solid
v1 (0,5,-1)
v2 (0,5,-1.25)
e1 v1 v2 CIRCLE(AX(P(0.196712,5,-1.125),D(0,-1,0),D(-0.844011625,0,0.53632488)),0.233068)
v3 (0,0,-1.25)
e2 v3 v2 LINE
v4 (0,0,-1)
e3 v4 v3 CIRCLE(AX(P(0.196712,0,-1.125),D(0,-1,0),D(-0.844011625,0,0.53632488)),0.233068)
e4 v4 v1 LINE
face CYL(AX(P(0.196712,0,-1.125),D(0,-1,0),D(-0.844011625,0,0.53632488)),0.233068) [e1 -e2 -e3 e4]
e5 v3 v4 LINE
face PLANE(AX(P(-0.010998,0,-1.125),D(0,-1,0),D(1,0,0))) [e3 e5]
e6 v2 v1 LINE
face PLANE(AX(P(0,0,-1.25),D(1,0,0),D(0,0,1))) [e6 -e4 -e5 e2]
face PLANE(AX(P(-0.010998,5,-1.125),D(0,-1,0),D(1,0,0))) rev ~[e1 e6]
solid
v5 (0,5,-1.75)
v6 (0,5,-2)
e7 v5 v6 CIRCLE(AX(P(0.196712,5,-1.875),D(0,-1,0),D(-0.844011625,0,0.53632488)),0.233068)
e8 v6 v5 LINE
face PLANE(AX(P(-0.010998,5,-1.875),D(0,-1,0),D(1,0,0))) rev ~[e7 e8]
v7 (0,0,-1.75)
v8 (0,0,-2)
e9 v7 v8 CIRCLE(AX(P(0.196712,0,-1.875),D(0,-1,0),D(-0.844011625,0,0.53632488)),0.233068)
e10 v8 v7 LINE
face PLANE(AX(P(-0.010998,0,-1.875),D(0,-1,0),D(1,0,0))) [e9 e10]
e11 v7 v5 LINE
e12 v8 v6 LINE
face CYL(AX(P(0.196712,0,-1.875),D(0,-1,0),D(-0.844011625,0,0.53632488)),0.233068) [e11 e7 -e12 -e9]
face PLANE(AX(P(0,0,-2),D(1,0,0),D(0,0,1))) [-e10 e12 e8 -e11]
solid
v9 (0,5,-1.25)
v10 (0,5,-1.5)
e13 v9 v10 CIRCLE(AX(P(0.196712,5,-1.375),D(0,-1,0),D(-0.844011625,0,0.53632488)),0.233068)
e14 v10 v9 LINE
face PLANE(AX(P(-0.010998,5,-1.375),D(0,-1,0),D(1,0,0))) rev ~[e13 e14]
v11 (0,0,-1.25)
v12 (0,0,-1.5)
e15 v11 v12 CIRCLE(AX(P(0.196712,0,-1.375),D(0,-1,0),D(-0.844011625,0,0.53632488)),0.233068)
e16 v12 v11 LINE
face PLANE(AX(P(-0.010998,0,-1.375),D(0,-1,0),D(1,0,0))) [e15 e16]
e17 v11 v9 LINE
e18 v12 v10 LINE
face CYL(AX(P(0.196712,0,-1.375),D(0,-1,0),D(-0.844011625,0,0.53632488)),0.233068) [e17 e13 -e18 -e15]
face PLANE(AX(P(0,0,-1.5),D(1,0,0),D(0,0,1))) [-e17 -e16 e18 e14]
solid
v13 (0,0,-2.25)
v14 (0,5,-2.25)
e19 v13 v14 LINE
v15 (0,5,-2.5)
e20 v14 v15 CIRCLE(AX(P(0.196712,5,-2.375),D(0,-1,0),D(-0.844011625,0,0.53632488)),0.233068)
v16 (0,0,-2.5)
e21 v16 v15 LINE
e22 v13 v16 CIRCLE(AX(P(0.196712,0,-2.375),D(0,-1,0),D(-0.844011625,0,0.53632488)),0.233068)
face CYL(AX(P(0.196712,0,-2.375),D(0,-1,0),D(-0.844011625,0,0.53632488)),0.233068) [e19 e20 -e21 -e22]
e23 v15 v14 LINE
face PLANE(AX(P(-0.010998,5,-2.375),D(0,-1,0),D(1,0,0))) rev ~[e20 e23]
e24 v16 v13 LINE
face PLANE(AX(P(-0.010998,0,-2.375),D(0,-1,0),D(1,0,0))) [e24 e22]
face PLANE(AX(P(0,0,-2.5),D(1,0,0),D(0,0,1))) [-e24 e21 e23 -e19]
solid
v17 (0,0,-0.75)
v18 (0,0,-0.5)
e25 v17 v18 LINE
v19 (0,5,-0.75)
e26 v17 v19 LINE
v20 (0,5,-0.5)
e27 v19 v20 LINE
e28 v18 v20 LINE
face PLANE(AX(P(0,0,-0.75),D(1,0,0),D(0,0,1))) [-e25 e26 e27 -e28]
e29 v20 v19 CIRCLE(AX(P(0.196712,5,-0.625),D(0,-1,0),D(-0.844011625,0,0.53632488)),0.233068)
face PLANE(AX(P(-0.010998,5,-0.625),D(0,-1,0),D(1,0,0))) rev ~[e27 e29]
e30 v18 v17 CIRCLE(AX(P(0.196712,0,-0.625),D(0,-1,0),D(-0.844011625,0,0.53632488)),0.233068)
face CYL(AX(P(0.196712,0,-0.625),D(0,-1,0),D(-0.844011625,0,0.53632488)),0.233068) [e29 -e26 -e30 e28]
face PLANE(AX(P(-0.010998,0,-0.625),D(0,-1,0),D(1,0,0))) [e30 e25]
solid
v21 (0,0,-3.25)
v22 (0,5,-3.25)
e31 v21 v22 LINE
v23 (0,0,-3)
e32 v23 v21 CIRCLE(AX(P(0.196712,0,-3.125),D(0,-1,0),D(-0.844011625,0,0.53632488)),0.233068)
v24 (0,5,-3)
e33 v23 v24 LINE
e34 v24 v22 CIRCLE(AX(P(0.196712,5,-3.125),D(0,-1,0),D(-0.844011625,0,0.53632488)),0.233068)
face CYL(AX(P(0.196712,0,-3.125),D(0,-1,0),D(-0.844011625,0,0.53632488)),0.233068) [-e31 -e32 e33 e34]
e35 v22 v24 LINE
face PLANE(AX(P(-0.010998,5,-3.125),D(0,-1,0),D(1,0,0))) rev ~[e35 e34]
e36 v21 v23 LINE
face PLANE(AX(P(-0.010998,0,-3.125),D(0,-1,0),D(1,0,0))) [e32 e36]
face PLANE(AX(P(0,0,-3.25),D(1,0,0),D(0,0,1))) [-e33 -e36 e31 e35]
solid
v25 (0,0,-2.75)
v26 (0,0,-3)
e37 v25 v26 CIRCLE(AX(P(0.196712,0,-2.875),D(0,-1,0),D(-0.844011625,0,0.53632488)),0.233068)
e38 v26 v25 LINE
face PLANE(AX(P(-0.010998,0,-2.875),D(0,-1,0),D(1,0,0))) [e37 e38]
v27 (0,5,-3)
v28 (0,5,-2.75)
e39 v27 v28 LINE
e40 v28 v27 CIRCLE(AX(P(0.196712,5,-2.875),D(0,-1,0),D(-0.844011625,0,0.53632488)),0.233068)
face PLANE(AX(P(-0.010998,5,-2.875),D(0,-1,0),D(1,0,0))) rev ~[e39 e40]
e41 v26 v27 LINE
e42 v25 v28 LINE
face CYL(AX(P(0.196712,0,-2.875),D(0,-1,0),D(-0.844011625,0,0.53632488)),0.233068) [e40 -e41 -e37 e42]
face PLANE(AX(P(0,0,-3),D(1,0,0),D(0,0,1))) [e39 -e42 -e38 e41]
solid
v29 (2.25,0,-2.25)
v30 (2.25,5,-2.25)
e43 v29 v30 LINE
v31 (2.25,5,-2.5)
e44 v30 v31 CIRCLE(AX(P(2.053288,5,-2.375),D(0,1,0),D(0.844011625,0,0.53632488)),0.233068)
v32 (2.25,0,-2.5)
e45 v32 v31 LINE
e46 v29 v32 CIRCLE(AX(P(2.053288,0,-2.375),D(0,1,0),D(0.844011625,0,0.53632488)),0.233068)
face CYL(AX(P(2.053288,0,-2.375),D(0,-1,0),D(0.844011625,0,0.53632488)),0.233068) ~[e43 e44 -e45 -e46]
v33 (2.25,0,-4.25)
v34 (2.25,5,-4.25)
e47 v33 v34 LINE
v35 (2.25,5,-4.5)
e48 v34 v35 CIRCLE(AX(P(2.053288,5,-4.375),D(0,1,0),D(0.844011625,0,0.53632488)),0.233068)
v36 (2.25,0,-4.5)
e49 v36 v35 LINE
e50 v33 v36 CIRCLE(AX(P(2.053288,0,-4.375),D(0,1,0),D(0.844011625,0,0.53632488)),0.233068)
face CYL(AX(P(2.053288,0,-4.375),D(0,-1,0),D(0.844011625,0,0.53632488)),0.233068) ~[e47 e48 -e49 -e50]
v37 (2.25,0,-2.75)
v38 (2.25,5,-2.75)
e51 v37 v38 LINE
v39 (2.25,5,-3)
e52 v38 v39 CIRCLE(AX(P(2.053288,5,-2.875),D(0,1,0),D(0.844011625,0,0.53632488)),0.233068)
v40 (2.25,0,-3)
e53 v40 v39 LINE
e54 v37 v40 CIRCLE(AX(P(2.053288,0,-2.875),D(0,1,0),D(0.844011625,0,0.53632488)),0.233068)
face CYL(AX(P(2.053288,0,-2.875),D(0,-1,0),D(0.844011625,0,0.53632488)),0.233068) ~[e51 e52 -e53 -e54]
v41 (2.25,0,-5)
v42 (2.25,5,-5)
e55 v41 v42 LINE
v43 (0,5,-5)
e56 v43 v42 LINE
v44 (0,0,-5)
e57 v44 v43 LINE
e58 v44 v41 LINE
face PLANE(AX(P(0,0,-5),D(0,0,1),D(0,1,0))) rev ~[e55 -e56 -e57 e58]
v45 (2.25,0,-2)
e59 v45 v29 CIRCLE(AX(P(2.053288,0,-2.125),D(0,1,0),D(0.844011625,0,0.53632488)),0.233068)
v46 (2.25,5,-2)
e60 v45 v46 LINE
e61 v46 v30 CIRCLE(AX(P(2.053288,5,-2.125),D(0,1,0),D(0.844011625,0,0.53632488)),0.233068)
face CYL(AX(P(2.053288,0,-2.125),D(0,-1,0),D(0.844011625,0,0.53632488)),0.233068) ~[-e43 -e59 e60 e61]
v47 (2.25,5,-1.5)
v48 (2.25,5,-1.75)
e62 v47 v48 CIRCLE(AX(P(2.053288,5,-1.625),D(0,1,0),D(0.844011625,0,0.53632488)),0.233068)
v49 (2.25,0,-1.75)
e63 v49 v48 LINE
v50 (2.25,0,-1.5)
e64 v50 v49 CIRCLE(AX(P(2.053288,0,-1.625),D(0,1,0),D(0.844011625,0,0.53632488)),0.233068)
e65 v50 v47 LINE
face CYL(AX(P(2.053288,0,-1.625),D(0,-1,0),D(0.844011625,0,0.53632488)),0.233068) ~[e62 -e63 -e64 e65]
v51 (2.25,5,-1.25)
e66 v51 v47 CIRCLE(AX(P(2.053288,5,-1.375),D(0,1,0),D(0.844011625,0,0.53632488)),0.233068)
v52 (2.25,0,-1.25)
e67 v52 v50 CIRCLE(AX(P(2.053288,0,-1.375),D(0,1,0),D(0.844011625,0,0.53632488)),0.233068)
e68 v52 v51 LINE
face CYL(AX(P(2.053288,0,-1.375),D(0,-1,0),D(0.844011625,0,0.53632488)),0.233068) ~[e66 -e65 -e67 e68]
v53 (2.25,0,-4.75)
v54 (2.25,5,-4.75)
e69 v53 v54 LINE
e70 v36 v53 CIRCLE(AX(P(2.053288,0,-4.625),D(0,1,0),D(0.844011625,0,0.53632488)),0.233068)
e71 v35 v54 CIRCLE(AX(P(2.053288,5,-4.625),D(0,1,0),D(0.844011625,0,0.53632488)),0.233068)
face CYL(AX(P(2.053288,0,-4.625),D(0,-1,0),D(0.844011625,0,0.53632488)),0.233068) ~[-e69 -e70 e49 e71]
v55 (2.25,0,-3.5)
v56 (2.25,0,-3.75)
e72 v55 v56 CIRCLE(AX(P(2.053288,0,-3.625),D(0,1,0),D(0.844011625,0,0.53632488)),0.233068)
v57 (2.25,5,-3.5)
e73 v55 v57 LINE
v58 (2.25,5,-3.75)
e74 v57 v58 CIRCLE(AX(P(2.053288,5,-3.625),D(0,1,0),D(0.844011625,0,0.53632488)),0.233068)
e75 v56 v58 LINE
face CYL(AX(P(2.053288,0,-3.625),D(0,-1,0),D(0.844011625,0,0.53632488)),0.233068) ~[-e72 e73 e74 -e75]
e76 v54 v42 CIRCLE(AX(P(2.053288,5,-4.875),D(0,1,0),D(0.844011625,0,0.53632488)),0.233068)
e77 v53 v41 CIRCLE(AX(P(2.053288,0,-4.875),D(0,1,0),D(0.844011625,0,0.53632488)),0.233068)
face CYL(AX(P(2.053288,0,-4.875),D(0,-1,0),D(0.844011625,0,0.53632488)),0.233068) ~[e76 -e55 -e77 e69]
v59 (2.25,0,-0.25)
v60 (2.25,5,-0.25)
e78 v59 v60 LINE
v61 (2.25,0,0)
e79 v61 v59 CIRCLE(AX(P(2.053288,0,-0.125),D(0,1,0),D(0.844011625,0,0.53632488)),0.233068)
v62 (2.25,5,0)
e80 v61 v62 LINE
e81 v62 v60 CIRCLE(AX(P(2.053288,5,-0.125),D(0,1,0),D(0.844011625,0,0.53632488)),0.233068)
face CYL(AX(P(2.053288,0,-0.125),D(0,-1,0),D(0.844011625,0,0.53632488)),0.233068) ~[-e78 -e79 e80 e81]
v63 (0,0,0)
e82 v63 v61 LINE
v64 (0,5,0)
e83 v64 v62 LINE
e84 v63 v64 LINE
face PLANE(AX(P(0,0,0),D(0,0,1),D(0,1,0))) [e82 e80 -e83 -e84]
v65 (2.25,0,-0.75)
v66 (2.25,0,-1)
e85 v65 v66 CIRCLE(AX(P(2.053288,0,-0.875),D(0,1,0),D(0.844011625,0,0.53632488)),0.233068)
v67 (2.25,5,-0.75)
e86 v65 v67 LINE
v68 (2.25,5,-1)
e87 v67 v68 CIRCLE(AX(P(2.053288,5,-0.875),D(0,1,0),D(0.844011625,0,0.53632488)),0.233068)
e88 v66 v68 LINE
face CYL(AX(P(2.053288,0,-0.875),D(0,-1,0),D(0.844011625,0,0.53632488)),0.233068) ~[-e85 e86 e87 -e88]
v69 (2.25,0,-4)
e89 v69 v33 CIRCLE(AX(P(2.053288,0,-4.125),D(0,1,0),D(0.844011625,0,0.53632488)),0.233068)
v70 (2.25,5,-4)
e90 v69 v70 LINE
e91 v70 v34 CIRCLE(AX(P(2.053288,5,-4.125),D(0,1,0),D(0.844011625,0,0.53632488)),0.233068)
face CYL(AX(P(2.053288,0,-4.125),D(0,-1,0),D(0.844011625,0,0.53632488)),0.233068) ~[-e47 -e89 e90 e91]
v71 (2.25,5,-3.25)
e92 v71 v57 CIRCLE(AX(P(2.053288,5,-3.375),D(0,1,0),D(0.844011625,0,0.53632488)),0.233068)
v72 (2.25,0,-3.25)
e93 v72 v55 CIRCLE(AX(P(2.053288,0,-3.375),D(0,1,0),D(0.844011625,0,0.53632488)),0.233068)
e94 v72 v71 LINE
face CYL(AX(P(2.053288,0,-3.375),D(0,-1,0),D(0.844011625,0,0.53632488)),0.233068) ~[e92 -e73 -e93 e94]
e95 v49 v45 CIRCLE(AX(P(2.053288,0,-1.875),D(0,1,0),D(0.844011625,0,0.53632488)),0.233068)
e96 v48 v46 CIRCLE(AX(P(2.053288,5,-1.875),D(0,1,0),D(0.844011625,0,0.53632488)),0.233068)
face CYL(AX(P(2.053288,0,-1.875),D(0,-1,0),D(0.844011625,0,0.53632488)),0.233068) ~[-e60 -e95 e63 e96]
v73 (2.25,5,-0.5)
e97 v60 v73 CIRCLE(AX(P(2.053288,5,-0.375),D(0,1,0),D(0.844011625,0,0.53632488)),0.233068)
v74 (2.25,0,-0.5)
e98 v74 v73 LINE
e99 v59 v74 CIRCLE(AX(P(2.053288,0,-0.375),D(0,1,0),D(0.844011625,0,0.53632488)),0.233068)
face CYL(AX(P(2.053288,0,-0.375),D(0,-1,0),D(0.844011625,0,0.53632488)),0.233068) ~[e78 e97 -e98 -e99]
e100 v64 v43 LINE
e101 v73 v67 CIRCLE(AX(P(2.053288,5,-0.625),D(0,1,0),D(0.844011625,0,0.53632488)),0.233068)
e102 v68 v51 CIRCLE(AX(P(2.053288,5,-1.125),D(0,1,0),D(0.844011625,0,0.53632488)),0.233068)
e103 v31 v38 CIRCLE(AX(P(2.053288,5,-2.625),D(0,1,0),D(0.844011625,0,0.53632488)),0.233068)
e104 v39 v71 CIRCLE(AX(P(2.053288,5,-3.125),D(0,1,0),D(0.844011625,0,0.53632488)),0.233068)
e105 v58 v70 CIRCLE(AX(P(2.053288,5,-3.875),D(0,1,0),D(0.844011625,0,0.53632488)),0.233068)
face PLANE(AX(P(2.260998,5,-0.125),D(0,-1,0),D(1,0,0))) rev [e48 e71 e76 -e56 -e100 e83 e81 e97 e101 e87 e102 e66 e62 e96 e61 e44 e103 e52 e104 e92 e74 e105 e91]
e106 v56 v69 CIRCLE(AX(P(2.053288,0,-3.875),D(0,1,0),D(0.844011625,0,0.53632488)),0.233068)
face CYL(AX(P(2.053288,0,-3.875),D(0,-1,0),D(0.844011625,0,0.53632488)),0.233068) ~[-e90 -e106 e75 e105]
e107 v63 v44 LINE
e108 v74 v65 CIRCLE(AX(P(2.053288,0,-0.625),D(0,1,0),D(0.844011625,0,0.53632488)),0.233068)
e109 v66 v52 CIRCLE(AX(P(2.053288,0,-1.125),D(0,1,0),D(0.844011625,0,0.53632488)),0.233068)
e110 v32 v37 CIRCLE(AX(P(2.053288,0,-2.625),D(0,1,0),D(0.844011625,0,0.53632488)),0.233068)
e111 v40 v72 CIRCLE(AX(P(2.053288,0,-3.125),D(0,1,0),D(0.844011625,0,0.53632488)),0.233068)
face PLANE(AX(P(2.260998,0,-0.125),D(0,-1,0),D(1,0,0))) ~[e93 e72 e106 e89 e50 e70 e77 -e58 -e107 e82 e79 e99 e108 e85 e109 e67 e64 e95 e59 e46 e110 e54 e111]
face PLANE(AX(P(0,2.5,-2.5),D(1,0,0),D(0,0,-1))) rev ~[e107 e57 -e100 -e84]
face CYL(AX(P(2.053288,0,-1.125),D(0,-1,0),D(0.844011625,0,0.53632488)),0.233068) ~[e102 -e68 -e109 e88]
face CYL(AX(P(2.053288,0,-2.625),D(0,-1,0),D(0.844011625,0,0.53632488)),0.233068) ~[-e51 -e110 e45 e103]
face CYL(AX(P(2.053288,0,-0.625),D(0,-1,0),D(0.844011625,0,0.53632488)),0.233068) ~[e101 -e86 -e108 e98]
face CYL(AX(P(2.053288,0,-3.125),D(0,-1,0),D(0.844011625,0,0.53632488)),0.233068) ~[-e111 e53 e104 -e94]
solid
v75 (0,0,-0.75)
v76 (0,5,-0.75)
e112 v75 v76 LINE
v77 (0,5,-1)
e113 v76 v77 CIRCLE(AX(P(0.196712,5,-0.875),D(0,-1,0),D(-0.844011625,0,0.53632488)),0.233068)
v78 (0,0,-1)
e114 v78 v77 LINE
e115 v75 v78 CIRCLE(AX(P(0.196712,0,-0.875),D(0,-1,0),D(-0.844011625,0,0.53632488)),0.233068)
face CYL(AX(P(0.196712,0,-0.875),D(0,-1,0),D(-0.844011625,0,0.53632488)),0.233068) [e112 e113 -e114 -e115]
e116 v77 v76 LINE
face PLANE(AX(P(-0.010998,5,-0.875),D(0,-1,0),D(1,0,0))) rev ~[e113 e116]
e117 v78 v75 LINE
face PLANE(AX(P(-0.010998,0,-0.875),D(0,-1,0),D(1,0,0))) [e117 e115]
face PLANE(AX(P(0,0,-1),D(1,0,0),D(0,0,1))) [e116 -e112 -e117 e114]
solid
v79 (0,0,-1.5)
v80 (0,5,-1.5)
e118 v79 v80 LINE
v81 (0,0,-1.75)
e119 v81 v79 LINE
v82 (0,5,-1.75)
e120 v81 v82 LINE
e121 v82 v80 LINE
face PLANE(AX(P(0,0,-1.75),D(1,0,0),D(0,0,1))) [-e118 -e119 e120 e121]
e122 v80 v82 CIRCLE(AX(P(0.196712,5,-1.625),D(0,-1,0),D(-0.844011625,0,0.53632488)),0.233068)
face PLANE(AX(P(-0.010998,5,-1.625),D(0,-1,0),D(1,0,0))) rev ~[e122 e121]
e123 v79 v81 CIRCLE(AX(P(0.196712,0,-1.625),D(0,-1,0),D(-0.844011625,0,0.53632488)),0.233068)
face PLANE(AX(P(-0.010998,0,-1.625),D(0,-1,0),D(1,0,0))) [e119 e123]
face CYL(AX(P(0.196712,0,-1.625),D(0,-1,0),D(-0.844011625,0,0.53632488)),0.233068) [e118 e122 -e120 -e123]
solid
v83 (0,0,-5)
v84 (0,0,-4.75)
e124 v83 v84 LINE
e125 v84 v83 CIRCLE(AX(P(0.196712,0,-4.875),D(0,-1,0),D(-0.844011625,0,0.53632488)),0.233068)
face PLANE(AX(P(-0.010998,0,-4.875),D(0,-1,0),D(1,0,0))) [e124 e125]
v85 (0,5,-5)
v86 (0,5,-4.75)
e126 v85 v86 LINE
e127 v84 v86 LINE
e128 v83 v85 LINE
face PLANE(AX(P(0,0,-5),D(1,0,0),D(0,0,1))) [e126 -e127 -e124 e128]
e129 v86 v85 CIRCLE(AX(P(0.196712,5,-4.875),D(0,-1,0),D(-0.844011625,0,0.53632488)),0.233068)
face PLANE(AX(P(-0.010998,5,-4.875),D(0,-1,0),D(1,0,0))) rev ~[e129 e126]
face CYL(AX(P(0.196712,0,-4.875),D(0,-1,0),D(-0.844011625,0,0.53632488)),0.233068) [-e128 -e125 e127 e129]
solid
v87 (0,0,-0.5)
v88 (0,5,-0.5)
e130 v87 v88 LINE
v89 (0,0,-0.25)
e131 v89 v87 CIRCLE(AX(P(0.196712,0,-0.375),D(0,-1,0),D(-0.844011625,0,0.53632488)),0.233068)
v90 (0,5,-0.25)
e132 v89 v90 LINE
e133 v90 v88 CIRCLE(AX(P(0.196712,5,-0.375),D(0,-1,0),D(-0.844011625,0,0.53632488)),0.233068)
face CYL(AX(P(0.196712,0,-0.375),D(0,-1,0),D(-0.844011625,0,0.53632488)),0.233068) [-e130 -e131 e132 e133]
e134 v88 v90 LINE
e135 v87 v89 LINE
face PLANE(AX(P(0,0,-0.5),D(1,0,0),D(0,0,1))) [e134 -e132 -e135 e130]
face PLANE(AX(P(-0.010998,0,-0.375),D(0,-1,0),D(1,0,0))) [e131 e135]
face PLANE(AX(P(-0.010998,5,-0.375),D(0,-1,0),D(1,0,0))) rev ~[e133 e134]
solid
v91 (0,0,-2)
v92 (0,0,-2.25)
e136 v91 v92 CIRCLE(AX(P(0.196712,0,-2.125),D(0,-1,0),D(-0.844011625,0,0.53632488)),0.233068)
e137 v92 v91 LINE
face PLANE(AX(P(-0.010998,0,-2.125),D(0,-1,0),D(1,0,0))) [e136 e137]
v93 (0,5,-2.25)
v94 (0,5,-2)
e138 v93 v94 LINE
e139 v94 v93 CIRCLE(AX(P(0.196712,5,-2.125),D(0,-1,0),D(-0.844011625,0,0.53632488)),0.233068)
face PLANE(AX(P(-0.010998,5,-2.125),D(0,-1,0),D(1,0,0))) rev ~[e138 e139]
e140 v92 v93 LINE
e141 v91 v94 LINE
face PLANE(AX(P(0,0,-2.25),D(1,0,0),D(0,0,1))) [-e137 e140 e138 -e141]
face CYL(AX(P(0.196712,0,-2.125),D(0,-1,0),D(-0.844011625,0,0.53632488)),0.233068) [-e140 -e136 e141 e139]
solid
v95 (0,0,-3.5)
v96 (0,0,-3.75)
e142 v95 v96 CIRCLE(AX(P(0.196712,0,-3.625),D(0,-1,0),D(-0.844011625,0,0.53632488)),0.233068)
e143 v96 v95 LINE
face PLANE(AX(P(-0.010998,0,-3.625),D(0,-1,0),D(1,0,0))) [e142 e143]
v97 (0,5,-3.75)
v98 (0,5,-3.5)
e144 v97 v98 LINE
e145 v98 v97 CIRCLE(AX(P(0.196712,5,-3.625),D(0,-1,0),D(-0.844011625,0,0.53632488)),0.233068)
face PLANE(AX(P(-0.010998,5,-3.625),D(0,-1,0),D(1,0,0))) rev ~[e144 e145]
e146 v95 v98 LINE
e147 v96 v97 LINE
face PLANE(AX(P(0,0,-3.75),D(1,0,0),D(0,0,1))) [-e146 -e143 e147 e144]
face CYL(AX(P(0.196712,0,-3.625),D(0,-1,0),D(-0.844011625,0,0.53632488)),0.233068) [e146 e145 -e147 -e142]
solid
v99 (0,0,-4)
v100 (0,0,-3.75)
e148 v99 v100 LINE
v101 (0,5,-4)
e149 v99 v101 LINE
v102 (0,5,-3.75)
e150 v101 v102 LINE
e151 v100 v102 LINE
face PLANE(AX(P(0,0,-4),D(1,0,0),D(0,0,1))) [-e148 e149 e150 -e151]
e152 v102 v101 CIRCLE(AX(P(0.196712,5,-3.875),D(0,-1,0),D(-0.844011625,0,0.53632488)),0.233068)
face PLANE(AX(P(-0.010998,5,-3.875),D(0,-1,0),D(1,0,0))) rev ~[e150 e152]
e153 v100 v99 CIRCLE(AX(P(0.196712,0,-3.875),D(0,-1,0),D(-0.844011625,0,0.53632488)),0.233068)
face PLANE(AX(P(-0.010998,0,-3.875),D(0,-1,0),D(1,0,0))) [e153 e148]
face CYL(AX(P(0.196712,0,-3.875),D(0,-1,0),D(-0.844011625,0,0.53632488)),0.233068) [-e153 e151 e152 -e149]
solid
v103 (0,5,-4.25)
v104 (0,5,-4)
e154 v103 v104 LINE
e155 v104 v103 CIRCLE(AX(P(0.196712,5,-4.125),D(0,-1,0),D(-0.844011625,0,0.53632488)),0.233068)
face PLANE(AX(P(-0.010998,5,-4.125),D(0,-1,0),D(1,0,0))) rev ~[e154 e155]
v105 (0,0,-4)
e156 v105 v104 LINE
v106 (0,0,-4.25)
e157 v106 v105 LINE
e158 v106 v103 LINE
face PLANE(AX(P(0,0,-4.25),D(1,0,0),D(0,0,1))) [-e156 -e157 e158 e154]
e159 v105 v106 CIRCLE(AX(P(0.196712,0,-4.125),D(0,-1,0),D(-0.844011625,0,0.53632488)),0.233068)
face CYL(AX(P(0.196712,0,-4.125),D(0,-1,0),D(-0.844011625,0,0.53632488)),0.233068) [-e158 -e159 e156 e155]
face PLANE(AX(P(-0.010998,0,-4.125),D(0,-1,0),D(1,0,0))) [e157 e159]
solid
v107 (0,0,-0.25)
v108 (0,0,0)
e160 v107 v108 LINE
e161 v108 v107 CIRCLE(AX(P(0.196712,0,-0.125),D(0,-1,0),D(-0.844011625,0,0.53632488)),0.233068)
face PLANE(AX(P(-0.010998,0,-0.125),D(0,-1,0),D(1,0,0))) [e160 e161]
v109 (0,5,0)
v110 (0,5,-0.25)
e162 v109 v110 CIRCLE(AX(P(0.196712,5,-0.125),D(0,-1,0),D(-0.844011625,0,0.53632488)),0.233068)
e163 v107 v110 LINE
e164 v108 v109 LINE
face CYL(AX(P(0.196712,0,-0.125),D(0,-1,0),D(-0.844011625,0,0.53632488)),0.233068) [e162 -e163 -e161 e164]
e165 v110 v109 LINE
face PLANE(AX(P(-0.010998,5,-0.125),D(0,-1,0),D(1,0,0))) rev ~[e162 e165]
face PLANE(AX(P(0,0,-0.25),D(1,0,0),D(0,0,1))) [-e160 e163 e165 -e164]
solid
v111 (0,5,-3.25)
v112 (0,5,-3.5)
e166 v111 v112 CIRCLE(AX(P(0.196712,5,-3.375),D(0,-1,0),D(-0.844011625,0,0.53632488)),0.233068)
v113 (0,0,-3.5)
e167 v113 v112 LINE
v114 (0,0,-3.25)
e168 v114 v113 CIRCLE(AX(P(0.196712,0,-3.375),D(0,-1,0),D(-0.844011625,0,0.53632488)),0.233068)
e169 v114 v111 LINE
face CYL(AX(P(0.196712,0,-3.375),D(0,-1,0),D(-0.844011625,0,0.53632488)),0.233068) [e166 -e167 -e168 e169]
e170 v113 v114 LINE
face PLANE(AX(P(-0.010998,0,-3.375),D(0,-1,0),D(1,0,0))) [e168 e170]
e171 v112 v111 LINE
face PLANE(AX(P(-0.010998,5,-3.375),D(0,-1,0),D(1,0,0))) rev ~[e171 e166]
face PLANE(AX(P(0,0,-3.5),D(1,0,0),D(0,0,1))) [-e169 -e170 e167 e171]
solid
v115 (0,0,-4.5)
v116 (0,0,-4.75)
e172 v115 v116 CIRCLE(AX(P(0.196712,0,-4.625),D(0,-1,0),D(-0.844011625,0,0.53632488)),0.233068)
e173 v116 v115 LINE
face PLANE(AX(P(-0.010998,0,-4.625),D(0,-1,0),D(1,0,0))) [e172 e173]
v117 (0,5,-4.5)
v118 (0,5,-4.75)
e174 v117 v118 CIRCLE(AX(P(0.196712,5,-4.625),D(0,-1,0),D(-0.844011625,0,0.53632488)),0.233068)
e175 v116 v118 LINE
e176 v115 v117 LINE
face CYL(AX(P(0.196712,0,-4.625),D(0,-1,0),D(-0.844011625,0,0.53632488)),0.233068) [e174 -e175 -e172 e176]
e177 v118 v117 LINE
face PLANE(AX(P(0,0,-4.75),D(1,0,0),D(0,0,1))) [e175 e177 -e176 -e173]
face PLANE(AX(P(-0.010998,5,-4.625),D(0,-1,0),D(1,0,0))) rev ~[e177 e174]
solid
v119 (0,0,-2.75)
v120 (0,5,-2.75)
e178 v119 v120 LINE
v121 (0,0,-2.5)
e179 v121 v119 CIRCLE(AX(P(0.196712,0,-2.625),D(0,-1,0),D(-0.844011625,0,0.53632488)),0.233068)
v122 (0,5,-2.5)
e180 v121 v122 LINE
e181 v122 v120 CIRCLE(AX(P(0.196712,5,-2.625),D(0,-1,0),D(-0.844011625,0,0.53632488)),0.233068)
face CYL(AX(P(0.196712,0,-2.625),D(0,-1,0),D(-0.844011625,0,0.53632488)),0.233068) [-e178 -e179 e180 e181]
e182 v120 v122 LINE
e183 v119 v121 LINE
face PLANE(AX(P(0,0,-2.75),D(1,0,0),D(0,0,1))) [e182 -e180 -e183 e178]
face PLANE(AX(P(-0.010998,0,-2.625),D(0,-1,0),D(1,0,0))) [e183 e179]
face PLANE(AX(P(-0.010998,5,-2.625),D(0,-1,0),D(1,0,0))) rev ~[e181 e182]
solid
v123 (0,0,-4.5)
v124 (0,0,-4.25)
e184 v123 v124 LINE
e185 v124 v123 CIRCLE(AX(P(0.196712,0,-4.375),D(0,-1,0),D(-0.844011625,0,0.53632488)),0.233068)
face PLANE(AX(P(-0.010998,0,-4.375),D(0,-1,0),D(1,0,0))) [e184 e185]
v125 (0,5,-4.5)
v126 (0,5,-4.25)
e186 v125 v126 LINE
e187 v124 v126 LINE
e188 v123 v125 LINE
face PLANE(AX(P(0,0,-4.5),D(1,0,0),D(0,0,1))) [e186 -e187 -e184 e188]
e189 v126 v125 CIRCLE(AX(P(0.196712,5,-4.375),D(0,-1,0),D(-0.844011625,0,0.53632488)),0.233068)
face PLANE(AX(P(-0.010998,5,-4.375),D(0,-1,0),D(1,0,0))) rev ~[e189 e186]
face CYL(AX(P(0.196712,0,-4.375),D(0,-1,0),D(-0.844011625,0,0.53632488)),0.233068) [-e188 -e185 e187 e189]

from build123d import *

# Parameters (mm, degrees)
SKETCH_1_W         = 5
SKETCH_1_H         = 5
EXTRUDE_1_DEPTH    = 2.25
EXTRUDE_3_DEPTH    = 5
EXTRUDE_3_2_DEPTH  = 5
EXTRUDE_3_3_DEPTH  = 5
EXTRUDE_3_4_DEPTH  = 5
EXTRUDE_3_5_DEPTH  = 5
EXTRUDE_3_6_DEPTH  = 5
EXTRUDE_3_7_DEPTH  = 5
EXTRUDE_3_8_DEPTH  = 5
EXTRUDE_3_9_DEPTH  = 5
EXTRUDE_3_10_DEPTH = 5
EXTRUDE_3_11_DEPTH = 5
EXTRUDE_3_12_DEPTH = 5
EXTRUDE_3_13_DEPTH = 5
EXTRUDE_3_14_DEPTH = 5
EXTRUDE_3_15_DEPTH = 5
EXTRUDE_3_16_DEPTH = 5
EXTRUDE_3_17_DEPTH = 5
EXTRUDE_3_18_DEPTH = 5
EXTRUDE_3_19_DEPTH = 5
EXTRUDE_3_20_DEPTH = 5


with BuildPart() as part:
    # 草图1 → 凸台-拉伸1 (new body)
    with BuildSketch(Plane(origin=(0, 0, 0), x_dir=(0, 0, -1), z_dir=(1, 0, 0))):
        with Locations((2.5, 2.5)):
            Rectangle(SKETCH_1_W, SKETCH_1_H)
    extrude(amount=EXTRUDE_1_DEPTH)


with BuildPart() as body_2:
    # 草图3 → 凸台-拉伸3 (new body)
    with BuildSketch(Plane.XZ):
        with BuildLine():
            ThreePointArc((0, -4.75), (-0.03635585, -4.875), (0, -5))
            Line((0, -5), (0, -4.75))
        make_face()
    extrude_3 = extrude(amount=-EXTRUDE_3_DEPTH)


with BuildPart() as body_3:
    # 草图3 → Extrude 3 2 (new body)
    with BuildSketch(Plane.XZ):
        with BuildLine():
            ThreePointArc((0, -4.5), (-0.03635585, -4.625), (0, -4.75))
            Line((0, -4.75), (0, -4.5))
        make_face()
    extrude_3_2 = extrude(amount=-EXTRUDE_3_2_DEPTH)


with BuildPart() as body_4:
    # 草图3 → Extrude 3 3 (new body)
    with BuildSketch(Plane.XZ):
        with BuildLine():
            ThreePointArc((0, -4.25), (-0.03635585, -4.375), (0, -4.5))
            Line((0, -4.5), (0, -4.25))
        make_face()
    extrude_3_3 = extrude(amount=-EXTRUDE_3_3_DEPTH)


with BuildPart() as body_5:
    # 草图3 → Extrude 3 4 (new body)
    with BuildSketch(Plane.XZ):
        with BuildLine():
            ThreePointArc((0, -4), (-0.03635585, -4.125), (0, -4.25))
            Line((0, -4.25), (0, -4))
        make_face()
    extrude_3_4 = extrude(amount=-EXTRUDE_3_4_DEPTH)


with BuildPart() as body_6:
    # 草图3 → Extrude 3 5 (new body)
    with BuildSketch(Plane.XZ):
        with BuildLine():
            ThreePointArc((0, -3.75), (-0.03635585, -3.875), (0, -4))
            Line((0, -4), (0, -3.75))
        make_face()
    extrude_3_5 = extrude(amount=-EXTRUDE_3_5_DEPTH)


with BuildPart() as body_7:
    # 草图3 → Extrude 3 6 (new body)
    with BuildSketch(Plane.XZ):
        with BuildLine():
            ThreePointArc((0, -3.5), (-0.03635585, -3.625), (0, -3.75))
            Line((0, -3.75), (0, -3.5))
        make_face()
    extrude_3_6 = extrude(amount=-EXTRUDE_3_6_DEPTH)


with BuildPart() as body_8:
    # 草图3 → Extrude 3 7 (new body)
    with BuildSketch(Plane.XZ):
        with BuildLine():
            ThreePointArc((0, -3.25), (-0.03635585, -3.375), (0, -3.5))
            Line((0, -3.5), (0, -3.25))
        make_face()
    extrude_3_7 = extrude(amount=-EXTRUDE_3_7_DEPTH)


with BuildPart() as body_9:
    # 草图3 → Extrude 3 8 (new body)
    with BuildSketch(Plane.XZ):
        with BuildLine():
            ThreePointArc((0, -3), (-0.03635585, -3.125), (0, -3.25))
            Line((0, -3.25), (0, -3))
        make_face()
    extrude_3_8 = extrude(amount=-EXTRUDE_3_8_DEPTH)


with BuildPart() as body_10:
    # 草图3 → Extrude 3 9 (new body)
    with BuildSketch(Plane.XZ):
        with BuildLine():
            ThreePointArc((0, -2.75), (-0.03635585, -2.875), (0, -3))
            Line((0, -3), (0, -2.75))
        make_face()
    extrude_3_9 = extrude(amount=-EXTRUDE_3_9_DEPTH)


with BuildPart() as body_11:
    # 草图3 → Extrude 3 10 (new body)
    with BuildSketch(Plane.XZ):
        with BuildLine():
            ThreePointArc((0, -2.5), (-0.03635585, -2.625), (0, -2.75))
            Line((0, -2.75), (0, -2.5))
        make_face()
    extrude_3_10 = extrude(amount=-EXTRUDE_3_10_DEPTH)


with BuildPart() as body_12:
    # 草图3 → Extrude 3 11 (new body)
    with BuildSketch(Plane.XZ):
        with BuildLine():
            ThreePointArc((0, -2.25), (-0.03635585, -2.375), (0, -2.5))
            Line((0, -2.5), (0, -2.25))
        make_face()
    extrude_3_11 = extrude(amount=-EXTRUDE_3_11_DEPTH)


with BuildPart() as body_13:
    # 草图3 → Extrude 3 12 (new body)
    with BuildSketch(Plane.XZ):
        with BuildLine():
            ThreePointArc((0, -2), (-0.03635585, -2.125), (0, -2.25))
            Line((0, -2.25), (0, -2))
        make_face()
    extrude_3_12 = extrude(amount=-EXTRUDE_3_12_DEPTH)


with BuildPart() as body_14:
    # 草图3 → Extrude 3 13 (new body)
    with BuildSketch(Plane.XZ):
        with BuildLine():
            ThreePointArc((0, -1.75), (-0.03635585, -1.875), (0, -2))
            Line((0, -2), (0, -1.75))
        make_face()
    extrude_3_13 = extrude(amount=-EXTRUDE_3_13_DEPTH)


with BuildPart() as body_15:
    # 草图3 → Extrude 3 14 (new body)
    with BuildSketch(Plane.XZ):
        with BuildLine():
            ThreePointArc((0, -1.5), (-0.03635585, -1.625), (0, -1.75))
            Line((0, -1.75), (0, -1.5))
        make_face()
    extrude_3_14 = extrude(amount=-EXTRUDE_3_14_DEPTH)


with BuildPart() as body_16:
    # 草图3 → Extrude 3 15 (new body)
    with BuildSketch(Plane.XZ):
        with BuildLine():
            ThreePointArc((0, -1.25), (-0.03635585, -1.375), (0, -1.5))
            Line((0, -1.5), (0, -1.25))
        make_face()
    extrude_3_15 = extrude(amount=-EXTRUDE_3_15_DEPTH)


with BuildPart() as body_17:
    # 草图3 → Extrude 3 16 (new body)
    with BuildSketch(Plane.XZ):
        with BuildLine():
            ThreePointArc((0, -1), (-0.03635585, -1.125), (0, -1.25))
            Line((0, -1.25), (0, -1))
        make_face()
    extrude_3_16 = extrude(amount=-EXTRUDE_3_16_DEPTH)


with BuildPart() as body_18:
    # 草图3 → Extrude 3 17 (new body)
    with BuildSketch(Plane.XZ):
        with BuildLine():
            ThreePointArc((0, -0.75), (-0.03635585, -0.875), (0, -1))
            Line((0, -1), (0, -0.75))
        make_face()
    extrude_3_17 = extrude(amount=-EXTRUDE_3_17_DEPTH)


with BuildPart() as body_19:
    # 草图3 → Extrude 3 18 (new body)
    with BuildSketch(Plane.XZ):
        with BuildLine():
            ThreePointArc((0, -0.5), (-0.03635585, -0.625), (0, -0.75))
            Line((0, -0.75), (0, -0.5))
        make_face()
    extrude_3_18 = extrude(amount=-EXTRUDE_3_18_DEPTH)


with BuildPart() as body_20:
    # 草图3 → Extrude 3 19 (new body)
    with BuildSketch(Plane.XZ):
        with BuildLine():
            ThreePointArc((0, -0.25), (-0.03635585, -0.375), (0, -0.5))
            Line((0, -0.5), (0, -0.25))
        make_face()
    extrude_3_19 = extrude(amount=-EXTRUDE_3_19_DEPTH)


with BuildPart() as body_21:
    # 草图3 → Extrude 3 20 (new body)
    with BuildSketch(Plane.XZ):
        with BuildLine():
            ThreePointArc((0, 0), (-0.03635585, -0.125), (0, -0.25))
            Line((0, -0.25), (0, 0))
        make_face()
    extrude_3_20 = extrude(amount=-EXTRUDE_3_20_DEPTH)


with BuildPart() as part_1:
    add(part.part)

    # 镜向1: 凸台-拉伸3, Extrude 3 2, Extrude 3 3, Extrude 3 4, Extrude 3 5, Extrude 3 6, Extrude 3 7, Extrude 3 8, Extrude 3 9, Extrude 3 10, Extrude 3 11, Extrude 3 12, Extrude 3 13, Extrude 3 14, Extrude 3 15, Extrude 3 16, Extrude 3 17, Extrude 3 18, Extrude 3 19, Extrude 3 20 across plane
    add(extrude_3.mirror(Plane(origin=(1.125, 0, 0), x_dir=(0, 0, 1), z_dir=(1, 0, 0))))
    add(extrude_3_2.mirror(Plane(origin=(1.125, 0, 0), x_dir=(0, 0, 1), z_dir=(1, 0, 0))))
    add(extrude_3_3.mirror(Plane(origin=(1.125, 0, 0), x_dir=(0, 0, 1), z_dir=(1, 0, 0))))
    add(extrude_3_4.mirror(Plane(origin=(1.125, 0, 0), x_dir=(0, 0, 1), z_dir=(1, 0, 0))))
    add(extrude_3_5.mirror(Plane(origin=(1.125, 0, 0), x_dir=(0, 0, 1), z_dir=(1, 0, 0))))
    add(extrude_3_6.mirror(Plane(origin=(1.125, 0, 0), x_dir=(0, 0, 1), z_dir=(1, 0, 0))))
    add(extrude_3_7.mirror(Plane(origin=(1.125, 0, 0), x_dir=(0, 0, 1), z_dir=(1, 0, 0))))
    add(extrude_3_8.mirror(Plane(origin=(1.125, 0, 0), x_dir=(0, 0, 1), z_dir=(1, 0, 0))))
    add(extrude_3_9.mirror(Plane(origin=(1.125, 0, 0), x_dir=(0, 0, 1), z_dir=(1, 0, 0))))
    add(extrude_3_10.mirror(Plane(origin=(1.125, 0, 0), x_dir=(0, 0, 1), z_dir=(1, 0, 0))))
    add(extrude_3_11.mirror(Plane(origin=(1.125, 0, 0), x_dir=(0, 0, 1), z_dir=(1, 0, 0))))
    add(extrude_3_12.mirror(Plane(origin=(1.125, 0, 0), x_dir=(0, 0, 1), z_dir=(1, 0, 0))))
    add(extrude_3_13.mirror(Plane(origin=(1.125, 0, 0), x_dir=(0, 0, 1), z_dir=(1, 0, 0))))
    add(extrude_3_14.mirror(Plane(origin=(1.125, 0, 0), x_dir=(0, 0, 1), z_dir=(1, 0, 0))))
    add(extrude_3_15.mirror(Plane(origin=(1.125, 0, 0), x_dir=(0, 0, 1), z_dir=(1, 0, 0))))
    add(extrude_3_16.mirror(Plane(origin=(1.125, 0, 0), x_dir=(0, 0, 1), z_dir=(1, 0, 0))))
    add(extrude_3_17.mirror(Plane(origin=(1.125, 0, 0), x_dir=(0, 0, 1), z_dir=(1, 0, 0))))
    add(extrude_3_18.mirror(Plane(origin=(1.125, 0, 0), x_dir=(0, 0, 1), z_dir=(1, 0, 0))))
    add(extrude_3_19.mirror(Plane(origin=(1.125, 0, 0), x_dir=(0, 0, 1), z_dir=(1, 0, 0))))
    add(extrude_3_20.mirror(Plane(origin=(1.125, 0, 0), x_dir=(0, 0, 1), z_dir=(1, 0, 0))))


solid = Compound([body_2.part, body_3.part, body_4.part, body_5.part, body_6.part, body_7.part, body_8.part, body_9.part, body_10.part, body_11.part, body_12.part, body_13.part, body_14.part, body_15.part, body_16.part, body_17.part, body_18.part, body_19.part, body_20.part, body_21.part, part_1.part])
